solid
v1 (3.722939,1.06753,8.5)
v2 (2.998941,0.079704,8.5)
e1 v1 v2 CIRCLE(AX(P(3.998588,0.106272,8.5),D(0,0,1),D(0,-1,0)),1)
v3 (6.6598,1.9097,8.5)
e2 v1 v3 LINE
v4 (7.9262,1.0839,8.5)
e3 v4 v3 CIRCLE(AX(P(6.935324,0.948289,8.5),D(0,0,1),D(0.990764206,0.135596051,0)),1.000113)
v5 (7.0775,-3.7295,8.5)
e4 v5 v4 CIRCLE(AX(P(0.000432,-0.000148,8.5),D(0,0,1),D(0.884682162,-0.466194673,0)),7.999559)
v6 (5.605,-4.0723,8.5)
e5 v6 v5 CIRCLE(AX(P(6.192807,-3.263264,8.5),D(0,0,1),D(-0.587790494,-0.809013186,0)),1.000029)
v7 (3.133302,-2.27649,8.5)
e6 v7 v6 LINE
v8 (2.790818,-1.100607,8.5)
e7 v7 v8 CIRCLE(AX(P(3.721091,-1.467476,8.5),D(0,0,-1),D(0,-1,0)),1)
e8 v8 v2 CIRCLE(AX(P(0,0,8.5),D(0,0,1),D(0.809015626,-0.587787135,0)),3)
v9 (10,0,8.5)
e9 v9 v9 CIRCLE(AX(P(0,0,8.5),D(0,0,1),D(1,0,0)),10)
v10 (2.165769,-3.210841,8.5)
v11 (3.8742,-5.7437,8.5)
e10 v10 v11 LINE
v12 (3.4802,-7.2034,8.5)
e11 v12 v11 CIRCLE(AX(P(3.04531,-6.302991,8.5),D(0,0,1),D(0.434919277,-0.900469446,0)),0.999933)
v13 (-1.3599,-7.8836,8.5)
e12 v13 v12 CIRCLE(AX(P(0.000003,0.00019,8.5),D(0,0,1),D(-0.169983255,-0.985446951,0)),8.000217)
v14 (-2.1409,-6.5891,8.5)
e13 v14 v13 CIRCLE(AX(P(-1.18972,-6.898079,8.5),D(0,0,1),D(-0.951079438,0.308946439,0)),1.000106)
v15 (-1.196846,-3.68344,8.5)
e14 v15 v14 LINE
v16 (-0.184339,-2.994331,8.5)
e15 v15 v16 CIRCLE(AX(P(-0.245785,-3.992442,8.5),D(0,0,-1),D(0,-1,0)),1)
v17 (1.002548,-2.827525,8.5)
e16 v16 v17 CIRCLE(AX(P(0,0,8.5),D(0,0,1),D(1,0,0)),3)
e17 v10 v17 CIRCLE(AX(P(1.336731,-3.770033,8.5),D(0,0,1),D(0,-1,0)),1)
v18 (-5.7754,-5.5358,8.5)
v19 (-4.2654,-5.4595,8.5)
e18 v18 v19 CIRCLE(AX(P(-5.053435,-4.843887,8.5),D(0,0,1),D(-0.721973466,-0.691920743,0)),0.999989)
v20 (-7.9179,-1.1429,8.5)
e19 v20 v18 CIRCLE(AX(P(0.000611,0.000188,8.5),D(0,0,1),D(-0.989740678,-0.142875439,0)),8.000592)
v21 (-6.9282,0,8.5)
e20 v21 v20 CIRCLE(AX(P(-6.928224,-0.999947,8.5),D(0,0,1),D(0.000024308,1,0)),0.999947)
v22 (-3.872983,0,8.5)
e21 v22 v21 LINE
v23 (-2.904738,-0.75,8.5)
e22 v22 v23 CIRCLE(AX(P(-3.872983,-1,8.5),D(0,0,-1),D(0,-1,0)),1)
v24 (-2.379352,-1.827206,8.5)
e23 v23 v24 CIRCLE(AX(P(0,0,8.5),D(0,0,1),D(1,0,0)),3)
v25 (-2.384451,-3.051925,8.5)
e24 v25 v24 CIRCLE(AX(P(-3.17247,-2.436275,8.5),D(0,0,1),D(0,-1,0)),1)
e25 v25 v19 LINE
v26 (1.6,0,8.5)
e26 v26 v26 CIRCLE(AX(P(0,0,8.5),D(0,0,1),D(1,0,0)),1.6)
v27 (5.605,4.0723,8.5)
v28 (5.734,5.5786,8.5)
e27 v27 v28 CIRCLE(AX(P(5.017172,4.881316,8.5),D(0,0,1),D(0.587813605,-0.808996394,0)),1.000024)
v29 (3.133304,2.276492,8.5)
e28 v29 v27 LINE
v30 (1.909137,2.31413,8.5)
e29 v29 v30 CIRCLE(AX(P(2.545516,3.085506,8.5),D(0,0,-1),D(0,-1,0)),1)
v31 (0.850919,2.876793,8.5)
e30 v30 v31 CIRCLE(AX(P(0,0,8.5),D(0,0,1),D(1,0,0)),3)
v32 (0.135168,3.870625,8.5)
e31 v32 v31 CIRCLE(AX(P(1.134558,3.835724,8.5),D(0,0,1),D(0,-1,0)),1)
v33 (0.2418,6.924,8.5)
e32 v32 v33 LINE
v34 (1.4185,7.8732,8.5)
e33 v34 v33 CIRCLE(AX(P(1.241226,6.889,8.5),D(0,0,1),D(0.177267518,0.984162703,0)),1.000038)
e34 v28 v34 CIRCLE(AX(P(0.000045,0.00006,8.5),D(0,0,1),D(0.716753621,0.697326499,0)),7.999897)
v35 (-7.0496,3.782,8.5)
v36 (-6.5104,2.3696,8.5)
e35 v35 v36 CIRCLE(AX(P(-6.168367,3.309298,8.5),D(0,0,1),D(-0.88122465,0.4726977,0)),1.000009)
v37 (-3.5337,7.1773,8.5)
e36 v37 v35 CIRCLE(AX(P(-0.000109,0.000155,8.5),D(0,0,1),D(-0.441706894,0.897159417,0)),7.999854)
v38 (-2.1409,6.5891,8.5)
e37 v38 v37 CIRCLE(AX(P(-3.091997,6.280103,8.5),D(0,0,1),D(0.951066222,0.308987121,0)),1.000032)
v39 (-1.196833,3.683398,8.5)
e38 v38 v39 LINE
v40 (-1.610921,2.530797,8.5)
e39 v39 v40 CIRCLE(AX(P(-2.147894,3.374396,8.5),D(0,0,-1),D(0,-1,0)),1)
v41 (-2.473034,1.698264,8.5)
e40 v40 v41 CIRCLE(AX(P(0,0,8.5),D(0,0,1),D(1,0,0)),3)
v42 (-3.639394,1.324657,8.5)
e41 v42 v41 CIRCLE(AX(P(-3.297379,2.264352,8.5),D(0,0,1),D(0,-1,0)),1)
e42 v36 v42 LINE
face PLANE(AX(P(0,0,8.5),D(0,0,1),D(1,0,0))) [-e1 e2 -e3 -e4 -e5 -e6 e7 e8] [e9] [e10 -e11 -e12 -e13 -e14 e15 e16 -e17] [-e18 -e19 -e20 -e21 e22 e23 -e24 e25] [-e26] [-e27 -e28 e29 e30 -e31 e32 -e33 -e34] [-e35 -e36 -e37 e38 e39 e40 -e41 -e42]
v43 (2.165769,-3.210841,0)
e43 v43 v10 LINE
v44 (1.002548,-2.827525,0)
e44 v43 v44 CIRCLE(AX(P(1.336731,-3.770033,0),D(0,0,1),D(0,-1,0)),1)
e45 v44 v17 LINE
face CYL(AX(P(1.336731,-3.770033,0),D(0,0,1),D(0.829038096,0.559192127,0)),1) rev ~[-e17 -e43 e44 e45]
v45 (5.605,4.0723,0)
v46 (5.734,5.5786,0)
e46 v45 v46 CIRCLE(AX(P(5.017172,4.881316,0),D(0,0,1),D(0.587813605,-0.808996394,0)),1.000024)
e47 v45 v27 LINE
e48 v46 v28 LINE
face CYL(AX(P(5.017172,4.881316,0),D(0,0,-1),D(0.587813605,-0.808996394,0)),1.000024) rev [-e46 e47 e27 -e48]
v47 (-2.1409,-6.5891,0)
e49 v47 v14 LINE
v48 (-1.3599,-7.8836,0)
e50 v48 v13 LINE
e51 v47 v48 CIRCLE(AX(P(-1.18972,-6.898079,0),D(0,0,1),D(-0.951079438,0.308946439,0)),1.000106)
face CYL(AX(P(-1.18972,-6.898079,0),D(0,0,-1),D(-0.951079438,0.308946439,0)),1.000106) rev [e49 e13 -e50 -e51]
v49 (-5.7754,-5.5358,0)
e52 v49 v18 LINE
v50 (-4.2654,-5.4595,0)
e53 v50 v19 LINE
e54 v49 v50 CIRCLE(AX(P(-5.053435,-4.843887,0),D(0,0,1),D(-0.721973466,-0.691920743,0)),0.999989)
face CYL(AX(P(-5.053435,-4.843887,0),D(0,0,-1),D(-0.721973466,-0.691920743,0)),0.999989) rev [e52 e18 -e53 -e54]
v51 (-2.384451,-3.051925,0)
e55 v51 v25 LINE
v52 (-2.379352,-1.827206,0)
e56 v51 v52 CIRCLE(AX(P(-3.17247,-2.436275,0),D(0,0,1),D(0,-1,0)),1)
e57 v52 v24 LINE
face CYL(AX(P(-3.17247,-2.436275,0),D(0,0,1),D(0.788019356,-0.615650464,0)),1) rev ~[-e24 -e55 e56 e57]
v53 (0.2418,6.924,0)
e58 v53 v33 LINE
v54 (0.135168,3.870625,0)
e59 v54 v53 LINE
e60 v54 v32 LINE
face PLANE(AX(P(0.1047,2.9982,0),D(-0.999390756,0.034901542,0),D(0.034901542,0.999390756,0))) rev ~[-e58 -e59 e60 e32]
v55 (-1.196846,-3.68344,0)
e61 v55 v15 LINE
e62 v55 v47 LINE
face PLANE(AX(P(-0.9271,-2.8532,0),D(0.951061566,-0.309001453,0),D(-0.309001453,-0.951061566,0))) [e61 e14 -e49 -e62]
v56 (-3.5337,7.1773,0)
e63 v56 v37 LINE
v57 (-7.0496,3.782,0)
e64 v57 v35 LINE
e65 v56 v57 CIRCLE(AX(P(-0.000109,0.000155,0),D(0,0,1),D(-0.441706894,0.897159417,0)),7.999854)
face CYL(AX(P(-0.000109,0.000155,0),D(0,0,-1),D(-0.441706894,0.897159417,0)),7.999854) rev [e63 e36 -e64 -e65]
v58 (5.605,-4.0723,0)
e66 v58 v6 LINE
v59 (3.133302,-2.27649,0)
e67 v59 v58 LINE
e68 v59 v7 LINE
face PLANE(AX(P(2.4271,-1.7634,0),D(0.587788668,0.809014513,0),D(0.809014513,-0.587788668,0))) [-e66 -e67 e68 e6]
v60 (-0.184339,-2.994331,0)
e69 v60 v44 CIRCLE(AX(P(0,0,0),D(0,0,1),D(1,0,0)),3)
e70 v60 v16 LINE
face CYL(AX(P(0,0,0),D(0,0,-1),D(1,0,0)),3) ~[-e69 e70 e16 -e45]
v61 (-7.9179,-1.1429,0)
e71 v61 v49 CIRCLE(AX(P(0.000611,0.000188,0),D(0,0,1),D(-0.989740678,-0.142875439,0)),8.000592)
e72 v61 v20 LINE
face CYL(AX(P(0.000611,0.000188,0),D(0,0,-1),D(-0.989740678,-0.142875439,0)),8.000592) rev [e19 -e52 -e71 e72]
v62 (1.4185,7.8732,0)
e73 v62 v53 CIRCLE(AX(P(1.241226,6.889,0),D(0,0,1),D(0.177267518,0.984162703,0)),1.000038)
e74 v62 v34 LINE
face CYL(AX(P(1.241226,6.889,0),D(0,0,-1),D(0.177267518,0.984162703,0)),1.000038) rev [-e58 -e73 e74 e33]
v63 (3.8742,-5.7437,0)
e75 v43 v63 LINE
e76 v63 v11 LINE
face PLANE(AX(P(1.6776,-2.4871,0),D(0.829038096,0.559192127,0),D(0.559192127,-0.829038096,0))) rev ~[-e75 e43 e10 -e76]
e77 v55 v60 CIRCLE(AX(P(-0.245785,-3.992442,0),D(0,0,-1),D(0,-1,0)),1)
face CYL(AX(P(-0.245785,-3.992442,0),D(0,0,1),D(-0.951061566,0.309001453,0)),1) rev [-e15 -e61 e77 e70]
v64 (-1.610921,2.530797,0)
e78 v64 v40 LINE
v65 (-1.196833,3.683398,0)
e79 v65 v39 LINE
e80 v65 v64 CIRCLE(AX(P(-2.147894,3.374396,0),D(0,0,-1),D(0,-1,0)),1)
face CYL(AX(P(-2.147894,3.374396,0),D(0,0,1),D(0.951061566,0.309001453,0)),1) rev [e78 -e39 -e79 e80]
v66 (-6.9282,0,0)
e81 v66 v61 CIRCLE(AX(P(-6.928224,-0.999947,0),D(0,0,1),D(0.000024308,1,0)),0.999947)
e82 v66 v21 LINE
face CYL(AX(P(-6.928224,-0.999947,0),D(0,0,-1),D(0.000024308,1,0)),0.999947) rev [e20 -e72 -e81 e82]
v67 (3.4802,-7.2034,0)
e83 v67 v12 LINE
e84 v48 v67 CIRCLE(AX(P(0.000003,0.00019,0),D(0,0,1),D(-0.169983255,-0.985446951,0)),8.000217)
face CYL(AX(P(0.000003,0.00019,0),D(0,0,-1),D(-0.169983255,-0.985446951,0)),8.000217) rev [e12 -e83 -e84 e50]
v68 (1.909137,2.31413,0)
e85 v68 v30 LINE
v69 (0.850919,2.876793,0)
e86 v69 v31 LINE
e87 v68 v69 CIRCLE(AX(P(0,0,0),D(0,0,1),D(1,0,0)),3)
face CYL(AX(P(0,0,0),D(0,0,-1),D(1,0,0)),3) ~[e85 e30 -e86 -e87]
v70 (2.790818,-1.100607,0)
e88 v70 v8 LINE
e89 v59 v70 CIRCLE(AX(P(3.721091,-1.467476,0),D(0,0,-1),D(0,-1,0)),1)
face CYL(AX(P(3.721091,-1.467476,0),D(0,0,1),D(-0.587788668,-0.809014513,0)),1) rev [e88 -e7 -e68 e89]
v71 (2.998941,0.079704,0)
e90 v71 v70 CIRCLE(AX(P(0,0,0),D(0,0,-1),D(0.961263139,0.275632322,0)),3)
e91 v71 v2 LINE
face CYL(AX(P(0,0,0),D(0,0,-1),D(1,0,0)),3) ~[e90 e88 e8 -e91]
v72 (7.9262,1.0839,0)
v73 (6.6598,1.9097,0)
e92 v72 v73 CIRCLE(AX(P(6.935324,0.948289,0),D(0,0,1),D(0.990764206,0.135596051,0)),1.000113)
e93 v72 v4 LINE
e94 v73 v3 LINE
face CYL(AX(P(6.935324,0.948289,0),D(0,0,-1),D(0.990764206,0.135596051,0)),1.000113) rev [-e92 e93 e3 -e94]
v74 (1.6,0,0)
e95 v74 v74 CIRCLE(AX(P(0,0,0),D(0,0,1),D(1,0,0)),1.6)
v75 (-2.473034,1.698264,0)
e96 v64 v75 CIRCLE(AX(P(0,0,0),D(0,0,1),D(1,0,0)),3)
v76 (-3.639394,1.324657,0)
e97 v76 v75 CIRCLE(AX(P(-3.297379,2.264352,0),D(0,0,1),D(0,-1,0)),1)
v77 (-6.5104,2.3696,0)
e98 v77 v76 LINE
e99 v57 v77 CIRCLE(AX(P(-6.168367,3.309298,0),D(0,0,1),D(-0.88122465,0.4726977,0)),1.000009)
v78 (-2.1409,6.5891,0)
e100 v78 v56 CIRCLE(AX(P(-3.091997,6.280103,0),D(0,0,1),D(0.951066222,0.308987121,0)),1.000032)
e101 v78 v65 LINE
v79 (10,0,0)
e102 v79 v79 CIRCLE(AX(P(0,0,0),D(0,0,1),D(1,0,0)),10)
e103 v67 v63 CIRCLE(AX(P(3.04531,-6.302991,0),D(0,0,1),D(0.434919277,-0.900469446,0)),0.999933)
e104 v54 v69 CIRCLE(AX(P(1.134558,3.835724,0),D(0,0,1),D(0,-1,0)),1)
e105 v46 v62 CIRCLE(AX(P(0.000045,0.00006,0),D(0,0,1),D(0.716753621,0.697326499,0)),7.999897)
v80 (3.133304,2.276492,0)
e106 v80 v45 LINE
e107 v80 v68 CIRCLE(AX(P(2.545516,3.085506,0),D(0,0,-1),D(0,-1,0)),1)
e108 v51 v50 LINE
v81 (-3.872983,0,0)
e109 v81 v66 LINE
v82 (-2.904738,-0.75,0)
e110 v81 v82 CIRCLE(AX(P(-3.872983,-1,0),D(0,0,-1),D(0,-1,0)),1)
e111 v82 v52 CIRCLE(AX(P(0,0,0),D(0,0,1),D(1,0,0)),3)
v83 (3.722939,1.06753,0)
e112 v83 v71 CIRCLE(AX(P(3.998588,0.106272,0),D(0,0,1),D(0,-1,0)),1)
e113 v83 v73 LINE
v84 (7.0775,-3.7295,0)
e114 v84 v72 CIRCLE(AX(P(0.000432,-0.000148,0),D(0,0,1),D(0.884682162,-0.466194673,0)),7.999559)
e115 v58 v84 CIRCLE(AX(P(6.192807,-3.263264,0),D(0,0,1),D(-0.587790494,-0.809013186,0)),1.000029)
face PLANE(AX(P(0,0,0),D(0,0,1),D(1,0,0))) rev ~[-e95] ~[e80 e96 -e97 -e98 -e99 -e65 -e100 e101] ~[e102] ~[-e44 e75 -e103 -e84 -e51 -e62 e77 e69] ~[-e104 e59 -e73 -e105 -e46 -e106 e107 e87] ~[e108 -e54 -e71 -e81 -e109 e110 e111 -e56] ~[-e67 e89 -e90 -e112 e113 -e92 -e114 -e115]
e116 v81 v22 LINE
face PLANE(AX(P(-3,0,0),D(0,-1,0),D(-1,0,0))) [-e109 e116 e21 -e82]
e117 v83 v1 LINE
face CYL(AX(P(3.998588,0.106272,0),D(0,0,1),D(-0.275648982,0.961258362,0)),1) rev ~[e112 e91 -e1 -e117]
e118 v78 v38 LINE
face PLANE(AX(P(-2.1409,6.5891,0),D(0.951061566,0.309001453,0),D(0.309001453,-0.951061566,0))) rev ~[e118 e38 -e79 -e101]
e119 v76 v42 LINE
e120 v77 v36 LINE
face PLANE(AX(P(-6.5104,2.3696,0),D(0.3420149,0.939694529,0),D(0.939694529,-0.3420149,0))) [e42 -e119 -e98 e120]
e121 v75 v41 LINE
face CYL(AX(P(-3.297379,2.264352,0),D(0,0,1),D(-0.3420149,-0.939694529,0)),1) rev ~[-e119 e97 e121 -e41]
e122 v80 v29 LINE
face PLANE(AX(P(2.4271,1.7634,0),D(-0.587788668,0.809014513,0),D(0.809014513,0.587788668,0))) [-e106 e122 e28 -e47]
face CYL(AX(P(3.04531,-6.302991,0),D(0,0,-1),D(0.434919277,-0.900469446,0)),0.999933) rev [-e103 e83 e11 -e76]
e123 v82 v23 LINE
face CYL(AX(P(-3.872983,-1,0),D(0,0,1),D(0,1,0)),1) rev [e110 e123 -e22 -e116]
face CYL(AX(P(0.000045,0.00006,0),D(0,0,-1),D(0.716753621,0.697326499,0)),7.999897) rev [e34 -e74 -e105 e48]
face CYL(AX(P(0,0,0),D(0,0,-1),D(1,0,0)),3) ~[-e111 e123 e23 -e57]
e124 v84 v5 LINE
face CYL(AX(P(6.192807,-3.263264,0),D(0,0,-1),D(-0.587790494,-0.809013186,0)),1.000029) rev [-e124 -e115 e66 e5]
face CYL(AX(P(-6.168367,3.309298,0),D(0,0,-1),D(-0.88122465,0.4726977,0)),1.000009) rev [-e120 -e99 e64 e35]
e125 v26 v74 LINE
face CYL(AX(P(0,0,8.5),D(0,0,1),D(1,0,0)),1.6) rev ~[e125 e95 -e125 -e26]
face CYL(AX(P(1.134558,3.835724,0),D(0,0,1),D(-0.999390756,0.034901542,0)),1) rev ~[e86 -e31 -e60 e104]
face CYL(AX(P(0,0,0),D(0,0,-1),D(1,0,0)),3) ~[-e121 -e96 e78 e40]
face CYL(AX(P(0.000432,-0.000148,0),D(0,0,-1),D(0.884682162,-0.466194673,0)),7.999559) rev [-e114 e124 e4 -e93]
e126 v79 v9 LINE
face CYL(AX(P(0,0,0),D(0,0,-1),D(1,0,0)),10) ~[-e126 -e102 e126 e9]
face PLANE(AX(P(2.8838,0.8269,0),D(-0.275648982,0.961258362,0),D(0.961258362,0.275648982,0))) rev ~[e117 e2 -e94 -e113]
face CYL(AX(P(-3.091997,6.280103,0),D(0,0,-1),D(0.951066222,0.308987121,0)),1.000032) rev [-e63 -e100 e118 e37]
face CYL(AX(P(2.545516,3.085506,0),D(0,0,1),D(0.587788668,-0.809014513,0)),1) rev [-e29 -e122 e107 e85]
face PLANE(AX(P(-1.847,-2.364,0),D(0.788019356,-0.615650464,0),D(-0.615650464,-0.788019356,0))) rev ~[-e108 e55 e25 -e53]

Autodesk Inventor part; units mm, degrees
ref_plane "YZ Plane" through (0, 0, 0) normal (1, 0, 0) x (0, 1, 0)
ref_plane "XZ Plane" through (0, 0, 0) normal (0, 1, 0) x (-1, 0, 0)
ref_plane "XY Plane" through (0, 0, 0) normal (0, 0, 1) x (1, 0, 0)
sketch "Sketch4" plane through (0, 0, 0) normal (0, 0, 1) x (1, 0, 0)
  circle A0 centre (0, 0) radius 10
  arc A1 (-0.309, 0.9511) -> (-0.6428, 0.766) centre (0, 0) ccw
  line L0 (0, 0) -> (-0.309, 0.9511) construction
  line L1 (0, 0) -> (-0.9397, 0.342) construction
  arc A2 (0.5592, 0.829) -> (-0.309, 0.9511) centre (0, 0) ccw
  line L2 (-6.5104, 2.3696) -> (-2.8191, 1.0261)
  line L3 (-2.1409, 6.5891) -> (-0.9271, 2.8532)
  line L4 (-2.8191, 1.0261) -> (-6.5104, 2.3696)
  line L5 (-0.9271, 2.8532) -> (-2.1409, 6.5891)
  line L6 (-3, 0) -> (-6.9282, 0)
  arc A3 (-0.9397, 0.342) -> (-1, 0) centre (0, 0) ccw
  arc A4 (-0.309, 0.9511) -> (-0.9397, 0.342) centre (0, 0) ccw
  arc A5 (0.0349, 0.9994) -> (-0.309, 0.9511) centre (0, 0) ccw
  line L7 (0, 0) -> (0.0349, 0.9994) construction
  line L8 (0, 0) -> (-0.309, 0.9511) construction
  arc A6 (0.809, 0.5878) -> (0.0349, 0.9994) centre (0, 0) ccw
  line L9 (0, 0) -> (0.809, 0.5878) construction
  line L10 (0, 0) -> (0.0349, 0.9994) construction
  arc A7 (0.9613, 0.2756) -> (0.809, 0.5878) centre (0, 0) ccw
  line L11 (0, 0) -> (0.9613, 0.2756) construction
  line L12 (0, 0) -> (0.809, 0.5878) construction
  arc A8 (0.809, -0.5878) -> (0.9613, 0.2756) centre (0, 0) ccw
  line L13 (0, 0) -> (0.809, -0.5878) construction
  line L14 (0, 0) -> (0.9613, 0.2756) construction
  arc A9 (0.5592, -0.829) -> (0.809, -0.5878) centre (0, 0) ccw
  line L15 (0, 0) -> (0.5592, -0.829) construction
  line L16 (0, 0) -> (0.809, -0.5878) construction
  arc A10 (-0.309, -0.9511) -> (0.5592, -0.829) centre (0, 0) ccw
  line L17 (0, 0) -> (-0.309, -0.9511) construction
  line L18 (0, 0) -> (0.5592, -0.829) construction
  arc A11 (-0.6157, -0.788) -> (-0.309, -0.9511) centre (0, 0) ccw
  line L19 (0, 0) -> (-0.6157, -0.788) construction
  line L20 (0, 0) -> (-0.309, -0.9511) construction
  arc A12 (-1, 0) -> (-0.6157, -0.788) centre (0, 0) ccw
  line L21 (0.1047, 2.9982) -> (0.2418, 6.924) construction
  line L22 (-1.847, -2.364) -> (-4.2654, -5.4595) construction
  line L23 (-1.847, -2.364) -> (-4.2654, -5.4595)
  line L24 (-0.9271, -2.8532) -> (-2.1409, -6.5891)
  line L25 (1.6776, -2.4871) -> (3.8742, -5.7437)
  line L26 (2.4271, -1.7634) -> (5.605, -4.0723)
  line L27 (2.8838, 0.8269) -> (6.6598, 1.9097)
  line L28 (2.4271, 1.7634) -> (5.605, 4.0723)
  line L29 (0.1047, 2.9982) -> (0.2418, 6.924)
  arc A13 (-1.8794, 0.684) -> (-2, 0) centre (0, 0) ccw
  line L30 (0, 0) -> (0.809, 0.5878) construction
  line L31 (2.4271, 1.7634) -> (5.605, 4.0723) construction
  line L32 (0, 0) -> (-0.309, 0.9511) construction
  line L33 (-0.9271, 2.8532) -> (-2.3011, 7.0821) construction
  line L34 (0, 0) -> (0.0349, 0.9994) construction
  line L35 (0.1047, 2.9982) -> (0.2418, 6.924) construction
  line L36 (0, 0) -> (-0.309, 0.9511) construction
  line L37 (-0.9271, 2.8532) -> (-2.3011, 7.0821) construction
  line L38 (-1.6276, 0.5924) -> (-1.8794, 0.684) construction
  line L39 (-2.8191, 1.0261) -> (-6.9975, 2.5469) construction
  line L40 (0, 0) -> (-0.309, -0.9511) construction
  line L41 (-0.9271, -2.8532) -> (-2.1409, -6.5891) construction
  line L42 (0, 0) -> (0.5592, -0.829) construction
  line L43 (1.6776, -2.4871) -> (3.8742, -5.7437) construction
  line L44 (0, 0) -> (0.809, -0.5878) construction
  line L45 (2.4271, -1.7634) -> (6.0244, -4.377) construction
  line L46 (0, 0) -> (0.9613, 0.2756) construction
  line L47 (2.8838, 0.8269) -> (6.6598, 1.9097) construction
  line L48 (0, 0) -> (-0.309, -0.9511) construction
  line L49 (-0.9271, -2.8532) -> (-2.3011, -7.0821) construction
  line L50 (0, 0) -> (0.5592, -0.829) construction
  line L51 (1.5816, -2.3449) -> (3.8742, -5.7437) construction
  line L52 (0, 0) -> (0.9613, 0.2756) construction
  line L53 (2.8838, 0.8269) -> (7.1581, 2.0526) construction
  arc A14 (-1.3599, -7.8836) -> (3.4802, -7.2034) centre (0, 0) ccw
  arc A15 (-7.9179, -1.1429) -> (-5.7754, -5.5358) centre (0, 0) ccw
  arc A16 (-3.5337, 7.1773) -> (-7.0496, 3.782) centre (0, 0) ccw
  arc A17 (5.734, 5.5786) -> (1.4185, 7.8732) centre (0, 0) ccw
  arc A18 (7.0775, -3.7295) -> (7.9262, 1.0839) centre (0, 0) ccw
  arc A19 (5.605, -4.0723) -> (7.0775, -3.7295) centre (6.1928, -3.2633) ccw
  arc A20 (7.9262, 1.0839) -> (6.6598, 1.9097) centre (6.9355, 0.9484) ccw
  arc A21 (5.605, 4.0723) -> (5.734, 5.5786) centre (5.0172, 4.8813) ccw
  arc A22 (1.4185, 7.8732) -> (0.2418, 6.924) centre (1.2412, 6.8891) ccw
  arc A23 (-2.1409, 6.5891) -> (-3.5337, 7.1773) centre (-3.092, 6.2801) ccw
  arc A24 (-7.0496, 3.782) -> (-6.5104, 2.3696) centre (-6.1684, 3.3093) ccw
  arc A25 (-6.9282, 0) -> (-7.9179, -1.1429) centre (-6.9282, -1) ccw
  arc A26 (-5.7754, -5.5358) -> (-4.2654, -5.4595) centre (-5.0534, -4.8438) ccw
  arc A27 (-2.1409, -6.5891) -> (-1.3599, -7.8836) centre (-1.1899, -6.8981) ccw
  arc A28 (3.4802, -7.2034) -> (3.8742, -5.7437) centre (3.0452, -6.3029) ccw
  circle A29 centre (0, 0) radius 3
  line L54 (0, 0) -> (-0.309, 0.9511) construction
  line L55 (-0.9271, 2.8532) -> (-2.1409, 6.5891) construction
  line L56 (0, 0) -> (0.809, 0.5878) construction
  line L57 (2.4271, 1.7634) -> (5.605, 4.0723) construction
  line L58 (-0.809, 0.5878) -> (0.809, -0.5878) construction
  line L59 (2.4271, -1.7634) -> (5.605, -4.0723) construction
  point P0 (-4.5846, -5.868)
  point P1 (-1.7414, -2.2288)
  dimension "d123" = 6
  dimension "d33" = 20
  dimension "d42" = 52
  dimension "d50" = 20
  dimension "d51" = 52
  dimension "d52" = 20
  dimension "d53" = 52
  dimension "d54" = 20
  dimension "d55" = 52
  dimension "d56" = 20
  dimension "d65" = 2
  dimension "d77" = 8
  dimension "d78" = 1
extrude "Extrusion9" add sketch "Sketch4" along normal blind 8.5 contours A0 | A29
sketch "Engranaje41" plane through (0, 0, 0) normal (0, 0, -1) x (-1, 0, 0)
  circle A0 centre (0, 0) radius 1
  arc A1 (1.256, 9.9788) -> (1.0973, 10.6734) centre (-2.5912, 9.4651) ccw
  arc A2 (1.0973, 10.6734) -> (0.854, 10.6956) centre (0, 0) ccw
  arc A3 (0.854, 10.6956) -> (0.5721, 10.0412) centre (4.2626, 8.8392) ccw
  arc A4 (0.5721, 10.0412) -> (0.3434, 10.0517) centre (0, 0) ccw
  arc A5 (0.3434, 10.0517) -> (0.1221, 10.729) centre (-3.4411, 9.1902) ccw
  arc A6 (0.1221, 10.729) -> (-0.1221, 10.729) centre (0, 0) ccw
  arc A7 (-0.1221, 10.729) -> (-0.3434, 10.0517) centre (3.4411, 9.1902) ccw
  arc A8 (-0.3434, 10.0517) -> (-0.5721, 10.0412) centre (0, 0) ccw
  arc A9 (-0.5721, 10.0412) -> (-0.854, 10.6956) centre (-4.2626, 8.8392) ccw
  arc A10 (-0.854, 10.6956) -> (-1.0973, 10.6734) centre (0, 0) ccw
  arc A11 (-1.0973, 10.6734) -> (-1.256, 9.9788) centre (2.5912, 9.4651) ccw
  arc A12 (-1.256, 9.9788) -> (-1.4828, 9.9476) centre (0, 0) ccw
  arc A13 (-1.4828, 9.9476) -> (-1.8231, 10.5737) centre (-5.0487, 8.415) ccw
  arc A14 (-1.8231, 10.5737) -> (-2.0633, 10.5294) centre (0, 0) ccw
  arc A15 (-2.0633, 10.5294) -> (-2.1582, 9.8232) centre (1.7197, 9.6615) ccw
  arc A16 (-2.1582, 9.8232) -> (-2.3813, 9.7716) centre (0, 0) ccw
  arc A17 (-2.3813, 9.7716) -> (-2.777, 10.3641) centre (-5.793, 7.921) ccw
  arc A18 (-2.777, 10.3641) -> (-3.0122, 10.2982) centre (0, 0) ccw
  arc A19 (-3.0122, 10.2982) -> (-3.0425, 9.5863) centre (0.834, 9.7778) ccw
  arc A20 (-3.0425, 9.5863) -> (-3.26, 9.5145) centre (0, 0) ccw
  arc A21 (-3.26, 9.5145) -> (-3.708, 10.0686) centre (-6.4893, 7.3614) ccw
  arc A22 (-3.708, 10.0686) -> (-3.9362, 9.9816) centre (0, 0) ccw
  arc A23 (-3.9362, 9.9816) -> (-3.9017, 9.2699) centre (-0.0586, 9.8132) ccw
  arc A24 (-3.9017, 9.2699) -> (-4.1117, 9.1787) centre (0, 0) ccw
  arc A25 (-4.1117, 9.1787) -> (-4.6082, 9.6897) centre (-7.1318, 6.7408) ccw
  arc A26 (-4.6082, 9.6897) -> (-4.8276, 9.5823) centre (0, 0) ccw
  arc A27 (-4.8276, 9.5823) -> (-4.7285, 8.8767) centre (-0.9507, 9.7672) ccw
  arc A28 (-4.7285, 8.8767) -> (-4.9293, 8.7667) centre (0, 0) ccw
  arc A29 (-4.9293, 8.7667) -> (-5.4703, 9.2305) centre (-7.7153, 6.0644) ccw
  arc A30 (-5.4703, 9.2305) -> (-5.679, 9.1036) centre (0, 0) ccw
  arc A31 (-5.679, 9.1036) -> (-5.5161, 8.4099) centre (-1.8349, 9.6403) ccw
  arc A32 (-5.5161, 8.4099) -> (-5.7061, 8.2822) centre (0, 0) ccw
  arc A33 (-5.7061, 8.2822) -> (-6.287, 8.6948) centre (-8.2348, 5.3376) ccw
  arc A34 (-6.287, 8.6948) -> (-6.4833, 8.5495) centre (0, 0) ccw
  arc A35 (-6.4833, 8.5495) -> (-6.258, 7.8735) centre (-2.704, 9.4335) ccw
  arc A36 (-6.258, 7.8735) -> (-6.4356, 7.729) centre (0, 0) ccw
  arc A37 (-6.4356, 7.729) -> (-7.0516, 8.0871) centre (-8.686, 4.5667) ccw
  arc A38 (-7.0516, 8.0871) -> (-7.2338, 7.9245) centre (0, 0) ccw
  arc A39 (-7.2338, 7.9245) -> (-6.948, 7.2718) centre (-3.5506, 9.1485) ccw
  arc A40 (-6.948, 7.2718) -> (-7.1117, 7.1117) centre (0, 0) ccw
  arc A41 (-7.1117, 7.1117) -> (-7.7578, 7.4124) centre (-9.0653, 3.7579) ccw
  arc A42 (-7.7578, 7.4124) -> (-7.9245, 7.2338) centre (0, 0) ccw
  arc A43 (-7.9245, 7.2338) -> (-7.5805, 6.6098) centre (-4.3678, 8.7877) ccw
  arc A44 (-7.5805, 6.6098) -> (-7.729, 6.4356) centre (0, 0) ccw
  arc A45 (-7.729, 6.4356) -> (-8.3997, 6.6762) centre (-9.3695, 2.918) ccw
  arc A46 (-8.3997, 6.6762) -> (-8.5495, 6.4833) centre (0, 0) ccw
  arc A47 (-8.5495, 6.4833) -> (-8.1501, 5.8931) centre (-5.1488, 8.3541) ccw
  arc A48 (-8.1501, 5.8931) -> (-8.2822, 5.7061) centre (0, 0) ccw
  arc A49 (-8.2822, 5.7061) -> (-8.972, 5.8847) centre (-9.596, 2.0539) ccw
  arc A50 (-8.972, 5.8847) -> (-9.1036, 5.679) centre (0, 0) ccw
  arc A51 (-9.1036, 5.679) -> (-8.6523, 5.1276) centre (-5.8872, 7.8513) ccw
  arc A52 (-8.6523, 5.1276) -> (-8.7667, 4.9293) centre (0, 0) ccw
  arc A53 (-8.7667, 4.9293) -> (-9.4699, 5.0445) centre (-9.743, 1.1728) ccw
  arc A54 (-9.4699, 5.0445) -> (-9.5823, 4.8276) centre (0, 0) ccw
  arc A55 (-9.5823, 4.8276) -> (-9.0827, 4.3195) centre (-6.5767, 7.2834) ccw
  arc A56 (-9.0827, 4.3195) -> (-9.1787, 4.1117) centre (0, 0) ccw
  arc A57 (-9.1787, 4.1117) -> (-9.8894, 4.1624) centre (-9.8093, 0.2819) ccw
  arc A58 (-9.8894, 4.1624) -> (-9.9816, 3.9362) centre (0, 0) ccw
  arc A59 (-9.9816, 3.9362) -> (-9.4379, 3.4757) centre (-7.2118, 6.6552) ccw
  arc A60 (-9.4379, 3.4757) -> (-9.5145, 3.26) centre (0, 0) ccw
  arc A61 (-9.5145, 3.26) -> (-10.2269, 3.2459) centre (-9.7943, -0.6112) ccw
  arc A62 (-10.2269, 3.2459) -> (-10.2982, 3.0122) centre (0, 0) ccw
  arc A63 (-10.2982, 3.0122) -> (-9.7148, 2.6031) centre (-7.7871, 5.9718) ccw
  arc A64 (-9.7148, 2.6031) -> (-9.7716, 2.3813) centre (0, 0) ccw
  arc A65 (-9.7716, 2.3813) -> (-10.4797, 2.3024) centre (-9.6981, -1.4994) ccw
  arc A66 (-10.4797, 2.3024) -> (-10.5294, 2.0633) centre (0, 0) ccw
  arc A67 (-10.5294, 2.0633) -> (-9.9113, 1.7089) centre (-8.2979, 5.239) ccw
  arc A68 (-9.9113, 1.7089) -> (-9.9476, 1.4828) centre (0, 0) ccw
  arc A69 (-9.9476, 1.4828) -> (-10.6457, 1.3399) centre (-9.5216, -2.375) ccw
  arc A70 (-10.6457, 1.3399) -> (-10.6734, 1.0973) centre (0, 0) ccw
  arc A71 (-10.6734, 1.0973) -> (-10.0256, 0.8005) centre (-8.7399, 4.4627) ccw
  arc A72 (-10.0256, 0.8005) -> (-10.0412, 0.5721) centre (0, 0) ccw
  arc A73 (-10.0412, 0.5721) -> (-10.7234, 0.3663) centre (-9.2662, -3.231) ccw
  arc A74 (-10.7234, 0.3663) -> (-10.729, 0.1221) centre (0, 0) ccw
  arc A75 (-10.729, 0.1221) -> (-10.0569, -0.1145) centre (-9.1095, 3.6494) ccw
  arc A76 (-10.0569, -0.1145) -> (-10.0517, -0.3434) centre (0, 0) ccw
  arc A77 (-10.0517, -0.3434) -> (-10.7123, -0.6103) centre (-8.934, -4.0603) ccw
  arc A78 (-10.7123, -0.6103) -> (-10.6956, -0.854) centre (0, 0) ccw
  arc A79 (-10.6956, -0.854) -> (-10.0048, -1.0285) centre (-9.4036, 2.806) ccw
  arc A80 (-10.0048, -1.0285) -> (-9.9788, -1.256) centre (0, 0) ccw
  arc A81 (-9.9788, -1.256) -> (-10.6124, -1.5819) centre (-8.5277, -4.8559) ccw
  arc A82 (-10.6124, -1.5819) -> (-10.5737, -1.8231) centre (0, 0) ccw
  arc A83 (-10.5737, -1.8231) -> (-9.8698, -1.934) centre (-9.6198, 1.9392) ccw
  arc A84 (-9.8698, -1.934) -> (-9.8232, -2.1582) centre (0, 0) ccw
  arc A85 (-9.8232, -2.1582) -> (-10.4246, -2.5404) centre (-8.0508, -5.6112) ccw
  arc A86 (-10.4246, -2.5404) -> (-10.3641, -2.777) centre (0, 0) ccw
  arc A87 (-10.3641, -2.777) -> (-9.653, -2.8235) centre (-9.7563, 1.0564) ccw
  arc A88 (-9.653, -2.8235) -> (-9.5863, -3.0425) centre (0, 0) ccw
  arc A89 (-9.5863, -3.0425) -> (-10.1504, -3.4778) centre (-7.5072, -6.3201) ccw
  arc A90 (-10.1504, -3.4778) -> (-10.0686, -3.708) centre (0, 0) ccw
  arc A91 (-10.0686, -3.708) -> (-9.3563, -3.6896) centre (-9.812, 0.1648) ccw
  arc A92 (-9.3563, -3.6896) -> (-9.2699, -3.9017) centre (0, 0) ccw
  arc A93 (-9.2699, -3.9017) -> (-9.7921, -4.3865) centre (-6.9014, -6.9766) ccw
  arc A94 (-9.7921, -4.3865) -> (-9.6897, -4.6082) centre (0, 0) ccw
  arc A95 (-9.6897, -4.6082) -> (-8.982, -4.5252) centre (-9.7863, -0.7281) ccw
  arc A96 (-8.982, -4.5252) -> (-8.8767, -4.7285) centre (0, 0) ccw
  arc A97 (-8.8767, -4.7285) -> (-9.3526, -5.2587) centre (-6.2384, -7.5752) ccw
  arc A98 (-9.3526, -5.2587) -> (-9.2305, -5.4703) centre (0, 0) ccw
  arc A99 (-9.2305, -5.4703) -> (-8.5333, -5.3232) centre (-9.6795, -1.615) ccw
  arc A100 (-8.5333, -5.3232) -> (-8.4099, -5.5161) centre (0, 0) ccw
  arc A101 (-8.4099, -5.5161) -> (-8.8357, -6.0874) centre (-5.5237, -8.1111) ccw
  arc A102 (-8.8357, -6.0874) -> (-8.6948, -6.287) centre (0, 0) ccw
  arc A103 (-8.6948, -6.287) -> (-8.0139, -6.0771) centre (-9.4926, -2.4885) ccw
  arc A104 (-8.0139, -6.0771) -> (-7.8735, -6.258) centre (0, 0) ccw
  arc A105 (-7.8735, -6.258) -> (-8.2455, -6.8657) centre (-4.7632, -8.5798) ccw
  arc A106 (-8.2455, -6.8657) -> (-8.0871, -7.0516) centre (0, 0) ccw
  arc A107 (-8.0871, -7.0516) -> (-7.4281, -6.7807) centre (-9.227, -3.3414) ccw
  arc A108 (-7.4281, -6.7807) -> (-7.2718, -6.948) centre (0, 0) ccw
  arc A109 (-7.2718, -6.948) -> (-7.587, -7.587) centre (-3.9633, -8.9774) ccw
  arc A110 (-7.587, -7.587) -> (-7.4124, -7.7578) centre (0, 0) ccw
  arc A111 (-7.4124, -7.7578) -> (-6.7807, -7.4281) centre (-8.8849, -4.1666) ccw
  arc A112 (-6.7807, -7.4281) -> (-6.6098, -7.5805) centre (0, 0) ccw
  arc A113 (-6.6098, -7.5805) -> (-6.8657, -8.2455) centre (-3.1305, -9.3006) ccw
  arc A114 (-6.8657, -8.2455) -> (-6.6762, -8.3997) centre (0, 0) ccw
  arc A115 (-6.6762, -8.3997) -> (-6.0771, -8.0139) centre (-8.4692, -4.9573) ccw
  arc A116 (-6.0771, -8.0139) -> (-5.8931, -8.1501) centre (0, 0) ccw
  arc A117 (-5.8931, -8.1501) -> (-6.0874, -8.8357) centre (-2.2718, -9.5468) ccw
  arc A118 (-6.0874, -8.8357) -> (-5.8847, -8.972) centre (0, 0) ccw
  arc A119 (-5.8847, -8.972) -> (-5.3232, -8.5333) centre (-7.9833, -5.7069) ccw
  arc A120 (-5.3232, -8.5333) -> (-5.1276, -8.6523) centre (0, 0) ccw
  arc A121 (-5.1276, -8.6523) -> (-5.2587, -9.3526) centre (-1.3942, -9.7138) ccw
  arc A122 (-5.2587, -9.3526) -> (-5.0445, -9.4699) centre (0, 0) ccw
  arc A123 (-5.0445, -9.4699) -> (-4.5252, -8.982) centre (-7.4313, -6.4092) ccw
  arc A124 (-4.5252, -8.982) -> (-4.3195, -9.0827) centre (0, 0) ccw
  arc A125 (-4.3195, -9.0827) -> (-4.3865, -9.7921) centre (-0.5051, -9.8003) ccw
  arc A126 (-4.3865, -9.7921) -> (-4.1624, -9.8894) centre (0, 0) ccw
  arc A127 (-4.1624, -9.8894) -> (-3.6896, -9.3563) centre (-6.8177, -7.0584) ccw
  arc A128 (-3.6896, -9.3563) -> (-3.4757, -9.4379) centre (0, 0) ccw
  arc A129 (-3.4757, -9.4379) -> (-3.4778, -10.1504) centre (0.3881, -9.8057) ccw
  arc A130 (-3.4778, -10.1504) -> (-3.2459, -10.2269) centre (0, 0) ccw
  arc A131 (-3.2459, -10.2269) -> (-2.8235, -9.653) centre (-6.1475, -7.6492) ccw
  arc A132 (-2.8235, -9.653) -> (-2.6031, -9.7148) centre (0, 0) ccw
  arc A133 (-2.6031, -9.7148) -> (-2.5404, -10.4246) centre (1.2782, -9.7298) ccw
  arc A134 (-2.5404, -10.4246) -> (-2.3024, -10.4797) centre (0, 0) ccw
  arc A135 (-2.3024, -10.4797) -> (-1.934, -9.8698) centre (-5.4265, -8.1765) ccw
  arc A136 (-1.934, -9.8698) -> (-1.7089, -9.9113) centre (0, 0) ccw
  arc A137 (-1.7089, -9.9113) -> (-1.5819, -10.6124) centre (2.1577, -9.5732) ccw
  arc A138 (-1.5819, -10.6124) -> (-1.3399, -10.6457) centre (0, 0) ccw
  arc A139 (-1.3399, -10.6457) -> (-1.0285, -10.0048) centre (-4.6605, -8.6361) ccw
  arc A140 (-1.0285, -10.0048) -> (-0.8005, -10.0256) centre (0, 0) ccw
  arc A141 (-0.8005, -10.0256) -> (-0.6103, -10.7123) centre (3.0193, -9.3373) ccw
  arc A142 (-0.6103, -10.7123) -> (-0.3663, -10.7234) centre (0, 0) ccw
  arc A143 (-0.3663, -10.7234) -> (-0.1145, -10.0569) centre (-3.8559, -9.0241) ccw
  arc A144 (-0.1145, -10.0569) -> (0.1145, -10.0569) centre (0, 0) ccw
  arc A145 (0.1145, -10.0569) -> (0.3663, -10.7234) centre (3.8559, -9.0241) ccw
  arc A146 (0.3663, -10.7234) -> (0.6103, -10.7123) centre (0, 0) ccw
  arc A147 (0.6103, -10.7123) -> (0.8005, -10.0256) centre (-3.0193, -9.3373) ccw
  arc A148 (0.8005, -10.0256) -> (1.0285, -10.0048) centre (0, 0) ccw
  arc A149 (1.0285, -10.0048) -> (1.3399, -10.6457) centre (4.6605, -8.6361) ccw
  arc A150 (1.3399, -10.6457) -> (1.5819, -10.6124) centre (0, 0) ccw
  arc A151 (1.5819, -10.6124) -> (1.7089, -9.9113) centre (-2.1577, -9.5732) ccw
  arc A152 (1.7089, -9.9113) -> (1.934, -9.8698) centre (0, 0) ccw
  arc A153 (1.934, -9.8698) -> (2.3024, -10.4797) centre (5.4265, -8.1765) ccw
  arc A154 (2.3024, -10.4797) -> (2.5404, -10.4246) centre (0, 0) ccw
  arc A155 (2.5404, -10.4246) -> (2.6031, -9.7148) centre (-1.2782, -9.7298) ccw
  arc A156 (2.6031, -9.7148) -> (2.8235, -9.653) centre (0, 0) ccw
  arc A157 (2.8235, -9.653) -> (3.2459, -10.2269) centre (6.1475, -7.6492) ccw
  arc A158 (3.2459, -10.2269) -> (3.4778, -10.1504) centre (0, 0) ccw
  arc A159 (3.4778, -10.1504) -> (3.4757, -9.4379) centre (-0.3881, -9.8057) ccw
  arc A160 (3.4757, -9.4379) -> (3.6896, -9.3563) centre (0, 0) ccw
  arc A161 (3.6896, -9.3563) -> (4.1624, -9.8894) centre (6.8177, -7.0584) ccw
  arc A162 (4.1624, -9.8894) -> (4.3865, -9.7921) centre (0, 0) ccw
  arc A163 (4.3865, -9.7921) -> (4.3195, -9.0827) centre (0.5051, -9.8003) ccw
  arc A164 (4.3195, -9.0827) -> (4.5252, -8.982) centre (0, 0) ccw
  arc A165 (4.5252, -8.982) -> (5.0445, -9.4699) centre (7.4313, -6.4092) ccw
  arc A166 (5.0445, -9.4699) -> (5.2587, -9.3526) centre (0, 0) ccw
  arc A167 (5.2587, -9.3526) -> (5.1276, -8.6523) centre (1.3942, -9.7138) ccw
  arc A168 (5.1276, -8.6523) -> (5.3232, -8.5333) centre (0, 0) ccw
  arc A169 (5.3232, -8.5333) -> (5.8847, -8.972) centre (7.9833, -5.7069) ccw
  arc A170 (5.8847, -8.972) -> (6.0874, -8.8357) centre (0, 0) ccw
  arc A171 (6.0874, -8.8357) -> (5.8931, -8.1501) centre (2.2718, -9.5468) ccw
  arc A172 (5.8931, -8.1501) -> (6.0771, -8.0139) centre (0, 0) ccw
  arc A173 (6.0771, -8.0139) -> (6.6762, -8.3997) centre (8.4692, -4.9573) ccw
  arc A174 (6.6762, -8.3997) -> (6.8657, -8.2455) centre (0, 0) ccw
  arc A175 (6.8657, -8.2455) -> (6.6098, -7.5805) centre (3.1305, -9.3006) ccw
  arc A176 (6.6098, -7.5805) -> (6.7807, -7.4281) centre (0, 0) ccw
  arc A177 (6.7807, -7.4281) -> (7.4124, -7.7578) centre (8.8849, -4.1666) ccw
  arc A178 (7.4124, -7.7578) -> (7.587, -7.587) centre (0, 0) ccw
  arc A179 (7.587, -7.587) -> (7.2718, -6.948) centre (3.9633, -8.9774) ccw
  arc A180 (7.2718, -6.948) -> (7.4281, -6.7807) centre (0, 0) ccw
  arc A181 (7.4281, -6.7807) -> (8.0871, -7.0516) centre (9.227, -3.3414) ccw
  arc A182 (8.0871, -7.0516) -> (8.2455, -6.8657) centre (0, 0) ccw
  arc A183 (8.2455, -6.8657) -> (7.8735, -6.258) centre (4.7632, -8.5798) ccw
  arc A184 (7.8735, -6.258) -> (8.0139, -6.0771) centre (0, 0) ccw
  arc A185 (8.0139, -6.0771) -> (8.6948, -6.287) centre (9.4926, -2.4885) ccw
  arc A186 (8.6948, -6.287) -> (8.8357, -6.0874) centre (0, 0) ccw
  arc A187 (8.8357, -6.0874) -> (8.4099, -5.5161) centre (5.5237, -8.1111) ccw
  arc A188 (8.4099, -5.5161) -> (8.5333, -5.3232) centre (0, 0) ccw
  arc A189 (8.5333, -5.3232) -> (9.2305, -5.4703) centre (9.6795, -1.615) ccw
  arc A190 (9.2305, -5.4703) -> (9.3526, -5.2587) centre (0, 0) ccw
  arc A191 (9.3526, -5.2587) -> (8.8767, -4.7285) centre (6.2384, -7.5752) ccw
  arc A192 (8.8767, -4.7285) -> (8.982, -4.5252) centre (0, 0) ccw
  arc A193 (8.982, -4.5252) -> (9.6897, -4.6082) centre (9.7863, -0.7281) ccw
  arc A194 (9.6897, -4.6082) -> (9.7921, -4.3865) centre (0, 0) ccw
  arc A195 (9.7921, -4.3865) -> (9.2699, -3.9017) centre (6.9014, -6.9766) ccw
  arc A196 (9.2699, -3.9017) -> (9.3563, -3.6896) centre (0, 0) ccw
  arc A197 (9.3563, -3.6896) -> (10.0686, -3.708) centre (9.812, 0.1648) ccw
  arc A198 (10.0686, -3.708) -> (10.1504, -3.4778) centre (0, 0) ccw
  arc A199 (10.1504, -3.4778) -> (9.5863, -3.0425) centre (7.5072, -6.3201) ccw
  arc A200 (9.5863, -3.0425) -> (9.653, -2.8235) centre (0, 0) ccw
  arc A201 (9.653, -2.8235) -> (10.3641, -2.777) centre (9.7563, 1.0564) ccw
  arc A202 (10.3641, -2.777) -> (10.4246, -2.5404) centre (0, 0) ccw
  arc A203 (10.4246, -2.5404) -> (9.8232, -2.1582) centre (8.0508, -5.6112) ccw
  arc A204 (9.8232, -2.1582) -> (9.8698, -1.934) centre (0, 0) ccw
  arc A205 (9.8698, -1.934) -> (10.5737, -1.8231) centre (9.6198, 1.9392) ccw
  arc A206 (10.5737, -1.8231) -> (10.6124, -1.5819) centre (0, 0) ccw
  arc A207 (10.6124, -1.5819) -> (9.9788, -1.256) centre (8.5277, -4.8559) ccw
  arc A208 (9.9788, -1.256) -> (10.0048, -1.0285) centre (0, 0) ccw
  arc A209 (10.0048, -1.0285) -> (10.6956, -0.854) centre (9.4036, 2.806) ccw
  arc A210 (10.6956, -0.854) -> (10.7123, -0.6103) centre (0, 0) ccw
  arc A211 (10.7123, -0.6103) -> (10.0517, -0.3434) centre (8.934, -4.0603) ccw
  arc A212 (10.0517, -0.3434) -> (10.0569, -0.1145) centre (0, 0) ccw
  arc A213 (10.0569, -0.1145) -> (10.729, 0.1221) centre (9.1095, 3.6494) ccw
  arc A214 (10.729, 0.1221) -> (10.7234, 0.3663) centre (0, 0) ccw
  arc A215 (10.7234, 0.3663) -> (10.0412, 0.5721) centre (9.2662, -3.231) ccw
  arc A216 (10.0412, 0.5721) -> (10.0256, 0.8005) centre (0, 0) ccw
  arc A217 (10.0256, 0.8005) -> (10.6734, 1.0973) centre (8.7399, 4.4627) ccw
  arc A218 (10.6734, 1.0973) -> (10.6457, 1.3399) centre (0, 0) ccw
  arc A219 (10.6457, 1.3399) -> (9.9476, 1.4828) centre (9.5216, -2.375) ccw
  arc A220 (9.9476, 1.4828) -> (9.9113, 1.7089) centre (0, 0) ccw
  arc A221 (9.9113, 1.7089) -> (10.5294, 2.0633) centre (8.2979, 5.239) ccw
  arc A222 (10.5294, 2.0633) -> (10.4797, 2.3024) centre (0, 0) ccw
  arc A223 (10.4797, 2.3024) -> (9.7716, 2.3813) centre (9.6981, -1.4994) ccw
  arc A224 (9.7716, 2.3813) -> (9.7148, 2.6031) centre (0, 0) ccw
  arc A225 (9.7148, 2.6031) -> (10.2982, 3.0122) centre (7.7871, 5.9718) ccw
  arc A226 (10.2982, 3.0122) -> (10.2269, 3.2459) centre (0, 0) ccw
  arc A227 (10.2269, 3.2459) -> (9.5145, 3.26) centre (9.7943, -0.6112) ccw
  arc A228 (9.5145, 3.26) -> (9.4379, 3.4757) centre (0, 0) ccw
  arc A229 (9.4379, 3.4757) -> (9.9816, 3.9362) centre (7.2118, 6.6552) ccw
  arc A230 (9.9816, 3.9362) -> (9.8894, 4.1624) centre (0, 0) ccw
  arc A231 (9.8894, 4.1624) -> (9.1787, 4.1117) centre (9.8093, 0.2819) ccw
  arc A232 (9.1787, 4.1117) -> (9.0827, 4.3195) centre (0, 0) ccw
  arc A233 (9.0827, 4.3195) -> (9.5823, 4.8276) centre (6.5767, 7.2834) ccw
  arc A234 (9.5823, 4.8276) -> (9.4699, 5.0445) centre (0, 0) ccw
  arc A235 (9.4699, 5.0445) -> (8.7667, 4.9293) centre (9.743, 1.1728) ccw
  arc A236 (8.7667, 4.9293) -> (8.6523, 5.1276) centre (0, 0) ccw
  arc A237 (8.6523, 5.1276) -> (9.1036, 5.679) centre (5.8872, 7.8513) ccw
  arc A238 (9.1036, 5.679) -> (8.972, 5.8847) centre (0, 0) ccw
  arc A239 (8.972, 5.8847) -> (8.2822, 5.7061) centre (9.596, 2.0539) ccw
  arc A240 (8.2822, 5.7061) -> (8.1501, 5.8931) centre (0, 0) ccw
  arc A241 (8.1501, 5.8931) -> (8.5495, 6.4833) centre (5.1488, 8.3541) ccw
  arc A242 (8.5495, 6.4833) -> (8.3997, 6.6762) centre (0, 0) ccw
  arc A243 (8.3997, 6.6762) -> (7.729, 6.4356) centre (9.3695, 2.918) ccw
  arc A244 (7.729, 6.4356) -> (7.5805, 6.6098) centre (0, 0) ccw
  arc A245 (7.5805, 6.6098) -> (7.9245, 7.2338) centre (4.3678, 8.7877) ccw
  arc A246 (7.9245, 7.2338) -> (7.7578, 7.4124) centre (0, 0) ccw
  arc A247 (7.7578, 7.4124) -> (7.1117, 7.1117) centre (9.0653, 3.7579) ccw
  arc A248 (7.1117, 7.1117) -> (6.948, 7.2718) centre (0, 0) ccw
  arc A249 (6.948, 7.2718) -> (7.2338, 7.9245) centre (3.5506, 9.1485) ccw
  arc A250 (7.2338, 7.9245) -> (7.0516, 8.0871) centre (0, 0) ccw
  arc A251 (7.0516, 8.0871) -> (6.4356, 7.729) centre (8.686, 4.5667) ccw
  arc A252 (6.4356, 7.729) -> (6.258, 7.8735) centre (0, 0) ccw
  arc A253 (6.258, 7.8735) -> (6.4833, 8.5495) centre (2.704, 9.4335) ccw
  arc A254 (6.4833, 8.5495) -> (6.287, 8.6948) centre (0, 0) ccw
  arc A255 (6.287, 8.6948) -> (5.7061, 8.2822) centre (8.2348, 5.3376) ccw
  arc A256 (5.7061, 8.2822) -> (5.5161, 8.4099) centre (0, 0) ccw
  arc A257 (5.5161, 8.4099) -> (5.679, 9.1036) centre (1.8349, 9.6403) ccw
  arc A258 (5.679, 9.1036) -> (5.4703, 9.2305) centre (0, 0) ccw
  arc A259 (5.4703, 9.2305) -> (4.9293, 8.7667) centre (7.7153, 6.0644) ccw
  arc A260 (4.9293, 8.7667) -> (4.7285, 8.8767) centre (0, 0) ccw
  arc A261 (4.7285, 8.8767) -> (4.8276, 9.5823) centre (0.9507, 9.7672) ccw
  arc A262 (4.8276, 9.5823) -> (4.6082, 9.6897) centre (0, 0) ccw
  arc A263 (4.6082, 9.6897) -> (4.1117, 9.1787) centre (7.1318, 6.7408) ccw
  arc A264 (4.1117, 9.1787) -> (3.9017, 9.2699) centre (0, 0) ccw
  arc A265 (3.9017, 9.2699) -> (3.9362, 9.9816) centre (0.0586, 9.8132) ccw
  arc A266 (3.9362, 9.9816) -> (3.708, 10.0686) centre (0, 0) ccw
  arc A267 (3.708, 10.0686) -> (3.26, 9.5145) centre (6.4893, 7.3614) ccw
  arc A268 (3.26, 9.5145) -> (3.0425, 9.5863) centre (0, 0) ccw
  arc A269 (3.0425, 9.5863) -> (3.0122, 10.2982) centre (-0.834, 9.7778) ccw
  arc A270 (3.0122, 10.2982) -> (2.777, 10.3641) centre (0, 0) ccw
  arc A271 (2.777, 10.3641) -> (2.3813, 9.7716) centre (5.793, 7.921) ccw
  arc A272 (2.3813, 9.7716) -> (2.1582, 9.8232) centre (0, 0) ccw
  arc A273 (2.1582, 9.8232) -> (2.0633, 10.5294) centre (-1.7197, 9.6615) ccw
  arc A274 (2.0633, 10.5294) -> (1.8231, 10.5737) centre (0, 0) ccw
  arc A275 (1.8231, 10.5737) -> (1.4828, 9.9476) centre (5.0487, 8.415) ccw
  arc A276 (1.4828, 9.9476) -> (1.256, 9.9788) centre (0, 0) ccw
sketch "Sketch13" plane through (0, 0, 8.5) normal (0, 0, 1) x (1, 0, 0)
  line L0 (-2.8191, 1.0261) -> (-6.5104, 2.3696) projected
  arc A0 (-7.0496, 3.782) -> (-6.5104, 2.3696) centre (-6.1684, 3.3093) ccw projected
  arc A1 (-3.5337, 7.1773) -> (-7.0496, 3.782) centre (0, 0) ccw projected
  arc A2 (-2.1409, 6.5891) -> (-3.5337, 7.1773) centre (-3.092, 6.2801) ccw projected
  line L1 (-2.1409, 6.5891) -> (-0.9271, 2.8532) projected
  arc A3 (3.4802, -7.2034) -> (3.8742, -5.7437) centre (3.0452, -6.3029) ccw projected
  arc A4 (-1.3599, -7.8836) -> (3.4802, -7.2034) centre (0, 0) ccw projected
  arc A5 (-2.1409, -6.5891) -> (-1.3599, -7.8836) centre (-1.1899, -6.8981) ccw projected
  line L2 (-2.1409, -6.5891) -> (-0.9271, -2.8532) projected
  line L3 (1.6776, -2.4871) -> (3.8742, -5.7437) projected
  line L4 (-1.847, -2.364) -> (-4.2654, -5.4595) projected
  arc A6 (-5.7754, -5.5358) -> (-4.2654, -5.4595) centre (-5.0534, -4.8438) ccw projected
  arc A7 (-7.9179, -1.1429) -> (-5.7754, -5.5358) centre (0, 0) ccw projected
  arc A8 (-6.9282, 0) -> (-7.9179, -1.1429) centre (-6.9282, -1) ccw projected
  line L5 (-6.9282, 0) -> (-3, 0) projected
  line L6 (0.1047, 2.9982) -> (0.2418, 6.924) projected
  arc A9 (1.4185, 7.8732) -> (0.2418, 6.924) centre (1.2412, 6.8891) ccw projected
  arc A10 (5.734, 5.5786) -> (1.4185, 7.8732) centre (0, 0) ccw projected
  arc A11 (5.605, 4.0723) -> (5.734, 5.5786) centre (5.0172, 4.8813) ccw projected
  line L7 (5.605, 4.0723) -> (2.4271, 1.7634) projected
  line L8 (2.8838, 0.8269) -> (6.6598, 1.9097) projected
  arc A12 (7.9262, 1.0839) -> (6.6598, 1.9097) centre (6.9355, 0.9484) ccw projected
  arc A13 (7.0775, -3.7295) -> (7.9262, 1.0839) centre (0, 0) ccw projected
  arc A14 (5.605, -4.0723) -> (7.0775, -3.7295) centre (6.1928, -3.2633) ccw projected
  line L9 (5.605, -4.0723) -> (2.4271, -1.7634) projected
  circle A15 centre (0, 0) radius 1 projected
  circle A16 centre (0, 0) radius 10 projected
  arc A17 (-0.9271, 2.8532) -> (-2.8191, 1.0261) centre (0, 0) ccw projected
  arc A18 (-0.9271, -2.8532) -> (1.6776, -2.4871) centre (0, 0) ccw projected
  arc A19 (-3, 0) -> (-1.847, -2.364) centre (0, 0) ccw projected
  arc A20 (2.4271, 1.7634) -> (0.1047, 2.9982) centre (0, 0) ccw projected
  arc A21 (2.4271, -1.7634) -> (2.8838, 0.8269) centre (0, 0) ccw projected
sketch "Sketch14" plane through (0, 0, 8.5) normal (0, 0, 1) x (1, 0, 0)
  circle A0 centre (0, 0) radius 1.6
  dimension "d122" = 3.2
fillet "Fillet12" radius 1 10 edges at (-0.9271, -2.8532, 4.25) (2.8838, 0.8269, 4.25) (2.4271, -1.7634, 4.25) (0.1047, 2.9982, 4.25) (2.4271, 1.7634, 4.25) (-0.9271, 2.8532, 4.25) (-2.8191, 1.0261, 4.25) (-3, 0, 4.25) (-1.847, -2.364, 4.25) (1.6776, -2.4871, 4.25)
extrude "Extrusion13" cut sketch "Sketch14" against normal blind 10
properties part number "Rueda_Rin"
